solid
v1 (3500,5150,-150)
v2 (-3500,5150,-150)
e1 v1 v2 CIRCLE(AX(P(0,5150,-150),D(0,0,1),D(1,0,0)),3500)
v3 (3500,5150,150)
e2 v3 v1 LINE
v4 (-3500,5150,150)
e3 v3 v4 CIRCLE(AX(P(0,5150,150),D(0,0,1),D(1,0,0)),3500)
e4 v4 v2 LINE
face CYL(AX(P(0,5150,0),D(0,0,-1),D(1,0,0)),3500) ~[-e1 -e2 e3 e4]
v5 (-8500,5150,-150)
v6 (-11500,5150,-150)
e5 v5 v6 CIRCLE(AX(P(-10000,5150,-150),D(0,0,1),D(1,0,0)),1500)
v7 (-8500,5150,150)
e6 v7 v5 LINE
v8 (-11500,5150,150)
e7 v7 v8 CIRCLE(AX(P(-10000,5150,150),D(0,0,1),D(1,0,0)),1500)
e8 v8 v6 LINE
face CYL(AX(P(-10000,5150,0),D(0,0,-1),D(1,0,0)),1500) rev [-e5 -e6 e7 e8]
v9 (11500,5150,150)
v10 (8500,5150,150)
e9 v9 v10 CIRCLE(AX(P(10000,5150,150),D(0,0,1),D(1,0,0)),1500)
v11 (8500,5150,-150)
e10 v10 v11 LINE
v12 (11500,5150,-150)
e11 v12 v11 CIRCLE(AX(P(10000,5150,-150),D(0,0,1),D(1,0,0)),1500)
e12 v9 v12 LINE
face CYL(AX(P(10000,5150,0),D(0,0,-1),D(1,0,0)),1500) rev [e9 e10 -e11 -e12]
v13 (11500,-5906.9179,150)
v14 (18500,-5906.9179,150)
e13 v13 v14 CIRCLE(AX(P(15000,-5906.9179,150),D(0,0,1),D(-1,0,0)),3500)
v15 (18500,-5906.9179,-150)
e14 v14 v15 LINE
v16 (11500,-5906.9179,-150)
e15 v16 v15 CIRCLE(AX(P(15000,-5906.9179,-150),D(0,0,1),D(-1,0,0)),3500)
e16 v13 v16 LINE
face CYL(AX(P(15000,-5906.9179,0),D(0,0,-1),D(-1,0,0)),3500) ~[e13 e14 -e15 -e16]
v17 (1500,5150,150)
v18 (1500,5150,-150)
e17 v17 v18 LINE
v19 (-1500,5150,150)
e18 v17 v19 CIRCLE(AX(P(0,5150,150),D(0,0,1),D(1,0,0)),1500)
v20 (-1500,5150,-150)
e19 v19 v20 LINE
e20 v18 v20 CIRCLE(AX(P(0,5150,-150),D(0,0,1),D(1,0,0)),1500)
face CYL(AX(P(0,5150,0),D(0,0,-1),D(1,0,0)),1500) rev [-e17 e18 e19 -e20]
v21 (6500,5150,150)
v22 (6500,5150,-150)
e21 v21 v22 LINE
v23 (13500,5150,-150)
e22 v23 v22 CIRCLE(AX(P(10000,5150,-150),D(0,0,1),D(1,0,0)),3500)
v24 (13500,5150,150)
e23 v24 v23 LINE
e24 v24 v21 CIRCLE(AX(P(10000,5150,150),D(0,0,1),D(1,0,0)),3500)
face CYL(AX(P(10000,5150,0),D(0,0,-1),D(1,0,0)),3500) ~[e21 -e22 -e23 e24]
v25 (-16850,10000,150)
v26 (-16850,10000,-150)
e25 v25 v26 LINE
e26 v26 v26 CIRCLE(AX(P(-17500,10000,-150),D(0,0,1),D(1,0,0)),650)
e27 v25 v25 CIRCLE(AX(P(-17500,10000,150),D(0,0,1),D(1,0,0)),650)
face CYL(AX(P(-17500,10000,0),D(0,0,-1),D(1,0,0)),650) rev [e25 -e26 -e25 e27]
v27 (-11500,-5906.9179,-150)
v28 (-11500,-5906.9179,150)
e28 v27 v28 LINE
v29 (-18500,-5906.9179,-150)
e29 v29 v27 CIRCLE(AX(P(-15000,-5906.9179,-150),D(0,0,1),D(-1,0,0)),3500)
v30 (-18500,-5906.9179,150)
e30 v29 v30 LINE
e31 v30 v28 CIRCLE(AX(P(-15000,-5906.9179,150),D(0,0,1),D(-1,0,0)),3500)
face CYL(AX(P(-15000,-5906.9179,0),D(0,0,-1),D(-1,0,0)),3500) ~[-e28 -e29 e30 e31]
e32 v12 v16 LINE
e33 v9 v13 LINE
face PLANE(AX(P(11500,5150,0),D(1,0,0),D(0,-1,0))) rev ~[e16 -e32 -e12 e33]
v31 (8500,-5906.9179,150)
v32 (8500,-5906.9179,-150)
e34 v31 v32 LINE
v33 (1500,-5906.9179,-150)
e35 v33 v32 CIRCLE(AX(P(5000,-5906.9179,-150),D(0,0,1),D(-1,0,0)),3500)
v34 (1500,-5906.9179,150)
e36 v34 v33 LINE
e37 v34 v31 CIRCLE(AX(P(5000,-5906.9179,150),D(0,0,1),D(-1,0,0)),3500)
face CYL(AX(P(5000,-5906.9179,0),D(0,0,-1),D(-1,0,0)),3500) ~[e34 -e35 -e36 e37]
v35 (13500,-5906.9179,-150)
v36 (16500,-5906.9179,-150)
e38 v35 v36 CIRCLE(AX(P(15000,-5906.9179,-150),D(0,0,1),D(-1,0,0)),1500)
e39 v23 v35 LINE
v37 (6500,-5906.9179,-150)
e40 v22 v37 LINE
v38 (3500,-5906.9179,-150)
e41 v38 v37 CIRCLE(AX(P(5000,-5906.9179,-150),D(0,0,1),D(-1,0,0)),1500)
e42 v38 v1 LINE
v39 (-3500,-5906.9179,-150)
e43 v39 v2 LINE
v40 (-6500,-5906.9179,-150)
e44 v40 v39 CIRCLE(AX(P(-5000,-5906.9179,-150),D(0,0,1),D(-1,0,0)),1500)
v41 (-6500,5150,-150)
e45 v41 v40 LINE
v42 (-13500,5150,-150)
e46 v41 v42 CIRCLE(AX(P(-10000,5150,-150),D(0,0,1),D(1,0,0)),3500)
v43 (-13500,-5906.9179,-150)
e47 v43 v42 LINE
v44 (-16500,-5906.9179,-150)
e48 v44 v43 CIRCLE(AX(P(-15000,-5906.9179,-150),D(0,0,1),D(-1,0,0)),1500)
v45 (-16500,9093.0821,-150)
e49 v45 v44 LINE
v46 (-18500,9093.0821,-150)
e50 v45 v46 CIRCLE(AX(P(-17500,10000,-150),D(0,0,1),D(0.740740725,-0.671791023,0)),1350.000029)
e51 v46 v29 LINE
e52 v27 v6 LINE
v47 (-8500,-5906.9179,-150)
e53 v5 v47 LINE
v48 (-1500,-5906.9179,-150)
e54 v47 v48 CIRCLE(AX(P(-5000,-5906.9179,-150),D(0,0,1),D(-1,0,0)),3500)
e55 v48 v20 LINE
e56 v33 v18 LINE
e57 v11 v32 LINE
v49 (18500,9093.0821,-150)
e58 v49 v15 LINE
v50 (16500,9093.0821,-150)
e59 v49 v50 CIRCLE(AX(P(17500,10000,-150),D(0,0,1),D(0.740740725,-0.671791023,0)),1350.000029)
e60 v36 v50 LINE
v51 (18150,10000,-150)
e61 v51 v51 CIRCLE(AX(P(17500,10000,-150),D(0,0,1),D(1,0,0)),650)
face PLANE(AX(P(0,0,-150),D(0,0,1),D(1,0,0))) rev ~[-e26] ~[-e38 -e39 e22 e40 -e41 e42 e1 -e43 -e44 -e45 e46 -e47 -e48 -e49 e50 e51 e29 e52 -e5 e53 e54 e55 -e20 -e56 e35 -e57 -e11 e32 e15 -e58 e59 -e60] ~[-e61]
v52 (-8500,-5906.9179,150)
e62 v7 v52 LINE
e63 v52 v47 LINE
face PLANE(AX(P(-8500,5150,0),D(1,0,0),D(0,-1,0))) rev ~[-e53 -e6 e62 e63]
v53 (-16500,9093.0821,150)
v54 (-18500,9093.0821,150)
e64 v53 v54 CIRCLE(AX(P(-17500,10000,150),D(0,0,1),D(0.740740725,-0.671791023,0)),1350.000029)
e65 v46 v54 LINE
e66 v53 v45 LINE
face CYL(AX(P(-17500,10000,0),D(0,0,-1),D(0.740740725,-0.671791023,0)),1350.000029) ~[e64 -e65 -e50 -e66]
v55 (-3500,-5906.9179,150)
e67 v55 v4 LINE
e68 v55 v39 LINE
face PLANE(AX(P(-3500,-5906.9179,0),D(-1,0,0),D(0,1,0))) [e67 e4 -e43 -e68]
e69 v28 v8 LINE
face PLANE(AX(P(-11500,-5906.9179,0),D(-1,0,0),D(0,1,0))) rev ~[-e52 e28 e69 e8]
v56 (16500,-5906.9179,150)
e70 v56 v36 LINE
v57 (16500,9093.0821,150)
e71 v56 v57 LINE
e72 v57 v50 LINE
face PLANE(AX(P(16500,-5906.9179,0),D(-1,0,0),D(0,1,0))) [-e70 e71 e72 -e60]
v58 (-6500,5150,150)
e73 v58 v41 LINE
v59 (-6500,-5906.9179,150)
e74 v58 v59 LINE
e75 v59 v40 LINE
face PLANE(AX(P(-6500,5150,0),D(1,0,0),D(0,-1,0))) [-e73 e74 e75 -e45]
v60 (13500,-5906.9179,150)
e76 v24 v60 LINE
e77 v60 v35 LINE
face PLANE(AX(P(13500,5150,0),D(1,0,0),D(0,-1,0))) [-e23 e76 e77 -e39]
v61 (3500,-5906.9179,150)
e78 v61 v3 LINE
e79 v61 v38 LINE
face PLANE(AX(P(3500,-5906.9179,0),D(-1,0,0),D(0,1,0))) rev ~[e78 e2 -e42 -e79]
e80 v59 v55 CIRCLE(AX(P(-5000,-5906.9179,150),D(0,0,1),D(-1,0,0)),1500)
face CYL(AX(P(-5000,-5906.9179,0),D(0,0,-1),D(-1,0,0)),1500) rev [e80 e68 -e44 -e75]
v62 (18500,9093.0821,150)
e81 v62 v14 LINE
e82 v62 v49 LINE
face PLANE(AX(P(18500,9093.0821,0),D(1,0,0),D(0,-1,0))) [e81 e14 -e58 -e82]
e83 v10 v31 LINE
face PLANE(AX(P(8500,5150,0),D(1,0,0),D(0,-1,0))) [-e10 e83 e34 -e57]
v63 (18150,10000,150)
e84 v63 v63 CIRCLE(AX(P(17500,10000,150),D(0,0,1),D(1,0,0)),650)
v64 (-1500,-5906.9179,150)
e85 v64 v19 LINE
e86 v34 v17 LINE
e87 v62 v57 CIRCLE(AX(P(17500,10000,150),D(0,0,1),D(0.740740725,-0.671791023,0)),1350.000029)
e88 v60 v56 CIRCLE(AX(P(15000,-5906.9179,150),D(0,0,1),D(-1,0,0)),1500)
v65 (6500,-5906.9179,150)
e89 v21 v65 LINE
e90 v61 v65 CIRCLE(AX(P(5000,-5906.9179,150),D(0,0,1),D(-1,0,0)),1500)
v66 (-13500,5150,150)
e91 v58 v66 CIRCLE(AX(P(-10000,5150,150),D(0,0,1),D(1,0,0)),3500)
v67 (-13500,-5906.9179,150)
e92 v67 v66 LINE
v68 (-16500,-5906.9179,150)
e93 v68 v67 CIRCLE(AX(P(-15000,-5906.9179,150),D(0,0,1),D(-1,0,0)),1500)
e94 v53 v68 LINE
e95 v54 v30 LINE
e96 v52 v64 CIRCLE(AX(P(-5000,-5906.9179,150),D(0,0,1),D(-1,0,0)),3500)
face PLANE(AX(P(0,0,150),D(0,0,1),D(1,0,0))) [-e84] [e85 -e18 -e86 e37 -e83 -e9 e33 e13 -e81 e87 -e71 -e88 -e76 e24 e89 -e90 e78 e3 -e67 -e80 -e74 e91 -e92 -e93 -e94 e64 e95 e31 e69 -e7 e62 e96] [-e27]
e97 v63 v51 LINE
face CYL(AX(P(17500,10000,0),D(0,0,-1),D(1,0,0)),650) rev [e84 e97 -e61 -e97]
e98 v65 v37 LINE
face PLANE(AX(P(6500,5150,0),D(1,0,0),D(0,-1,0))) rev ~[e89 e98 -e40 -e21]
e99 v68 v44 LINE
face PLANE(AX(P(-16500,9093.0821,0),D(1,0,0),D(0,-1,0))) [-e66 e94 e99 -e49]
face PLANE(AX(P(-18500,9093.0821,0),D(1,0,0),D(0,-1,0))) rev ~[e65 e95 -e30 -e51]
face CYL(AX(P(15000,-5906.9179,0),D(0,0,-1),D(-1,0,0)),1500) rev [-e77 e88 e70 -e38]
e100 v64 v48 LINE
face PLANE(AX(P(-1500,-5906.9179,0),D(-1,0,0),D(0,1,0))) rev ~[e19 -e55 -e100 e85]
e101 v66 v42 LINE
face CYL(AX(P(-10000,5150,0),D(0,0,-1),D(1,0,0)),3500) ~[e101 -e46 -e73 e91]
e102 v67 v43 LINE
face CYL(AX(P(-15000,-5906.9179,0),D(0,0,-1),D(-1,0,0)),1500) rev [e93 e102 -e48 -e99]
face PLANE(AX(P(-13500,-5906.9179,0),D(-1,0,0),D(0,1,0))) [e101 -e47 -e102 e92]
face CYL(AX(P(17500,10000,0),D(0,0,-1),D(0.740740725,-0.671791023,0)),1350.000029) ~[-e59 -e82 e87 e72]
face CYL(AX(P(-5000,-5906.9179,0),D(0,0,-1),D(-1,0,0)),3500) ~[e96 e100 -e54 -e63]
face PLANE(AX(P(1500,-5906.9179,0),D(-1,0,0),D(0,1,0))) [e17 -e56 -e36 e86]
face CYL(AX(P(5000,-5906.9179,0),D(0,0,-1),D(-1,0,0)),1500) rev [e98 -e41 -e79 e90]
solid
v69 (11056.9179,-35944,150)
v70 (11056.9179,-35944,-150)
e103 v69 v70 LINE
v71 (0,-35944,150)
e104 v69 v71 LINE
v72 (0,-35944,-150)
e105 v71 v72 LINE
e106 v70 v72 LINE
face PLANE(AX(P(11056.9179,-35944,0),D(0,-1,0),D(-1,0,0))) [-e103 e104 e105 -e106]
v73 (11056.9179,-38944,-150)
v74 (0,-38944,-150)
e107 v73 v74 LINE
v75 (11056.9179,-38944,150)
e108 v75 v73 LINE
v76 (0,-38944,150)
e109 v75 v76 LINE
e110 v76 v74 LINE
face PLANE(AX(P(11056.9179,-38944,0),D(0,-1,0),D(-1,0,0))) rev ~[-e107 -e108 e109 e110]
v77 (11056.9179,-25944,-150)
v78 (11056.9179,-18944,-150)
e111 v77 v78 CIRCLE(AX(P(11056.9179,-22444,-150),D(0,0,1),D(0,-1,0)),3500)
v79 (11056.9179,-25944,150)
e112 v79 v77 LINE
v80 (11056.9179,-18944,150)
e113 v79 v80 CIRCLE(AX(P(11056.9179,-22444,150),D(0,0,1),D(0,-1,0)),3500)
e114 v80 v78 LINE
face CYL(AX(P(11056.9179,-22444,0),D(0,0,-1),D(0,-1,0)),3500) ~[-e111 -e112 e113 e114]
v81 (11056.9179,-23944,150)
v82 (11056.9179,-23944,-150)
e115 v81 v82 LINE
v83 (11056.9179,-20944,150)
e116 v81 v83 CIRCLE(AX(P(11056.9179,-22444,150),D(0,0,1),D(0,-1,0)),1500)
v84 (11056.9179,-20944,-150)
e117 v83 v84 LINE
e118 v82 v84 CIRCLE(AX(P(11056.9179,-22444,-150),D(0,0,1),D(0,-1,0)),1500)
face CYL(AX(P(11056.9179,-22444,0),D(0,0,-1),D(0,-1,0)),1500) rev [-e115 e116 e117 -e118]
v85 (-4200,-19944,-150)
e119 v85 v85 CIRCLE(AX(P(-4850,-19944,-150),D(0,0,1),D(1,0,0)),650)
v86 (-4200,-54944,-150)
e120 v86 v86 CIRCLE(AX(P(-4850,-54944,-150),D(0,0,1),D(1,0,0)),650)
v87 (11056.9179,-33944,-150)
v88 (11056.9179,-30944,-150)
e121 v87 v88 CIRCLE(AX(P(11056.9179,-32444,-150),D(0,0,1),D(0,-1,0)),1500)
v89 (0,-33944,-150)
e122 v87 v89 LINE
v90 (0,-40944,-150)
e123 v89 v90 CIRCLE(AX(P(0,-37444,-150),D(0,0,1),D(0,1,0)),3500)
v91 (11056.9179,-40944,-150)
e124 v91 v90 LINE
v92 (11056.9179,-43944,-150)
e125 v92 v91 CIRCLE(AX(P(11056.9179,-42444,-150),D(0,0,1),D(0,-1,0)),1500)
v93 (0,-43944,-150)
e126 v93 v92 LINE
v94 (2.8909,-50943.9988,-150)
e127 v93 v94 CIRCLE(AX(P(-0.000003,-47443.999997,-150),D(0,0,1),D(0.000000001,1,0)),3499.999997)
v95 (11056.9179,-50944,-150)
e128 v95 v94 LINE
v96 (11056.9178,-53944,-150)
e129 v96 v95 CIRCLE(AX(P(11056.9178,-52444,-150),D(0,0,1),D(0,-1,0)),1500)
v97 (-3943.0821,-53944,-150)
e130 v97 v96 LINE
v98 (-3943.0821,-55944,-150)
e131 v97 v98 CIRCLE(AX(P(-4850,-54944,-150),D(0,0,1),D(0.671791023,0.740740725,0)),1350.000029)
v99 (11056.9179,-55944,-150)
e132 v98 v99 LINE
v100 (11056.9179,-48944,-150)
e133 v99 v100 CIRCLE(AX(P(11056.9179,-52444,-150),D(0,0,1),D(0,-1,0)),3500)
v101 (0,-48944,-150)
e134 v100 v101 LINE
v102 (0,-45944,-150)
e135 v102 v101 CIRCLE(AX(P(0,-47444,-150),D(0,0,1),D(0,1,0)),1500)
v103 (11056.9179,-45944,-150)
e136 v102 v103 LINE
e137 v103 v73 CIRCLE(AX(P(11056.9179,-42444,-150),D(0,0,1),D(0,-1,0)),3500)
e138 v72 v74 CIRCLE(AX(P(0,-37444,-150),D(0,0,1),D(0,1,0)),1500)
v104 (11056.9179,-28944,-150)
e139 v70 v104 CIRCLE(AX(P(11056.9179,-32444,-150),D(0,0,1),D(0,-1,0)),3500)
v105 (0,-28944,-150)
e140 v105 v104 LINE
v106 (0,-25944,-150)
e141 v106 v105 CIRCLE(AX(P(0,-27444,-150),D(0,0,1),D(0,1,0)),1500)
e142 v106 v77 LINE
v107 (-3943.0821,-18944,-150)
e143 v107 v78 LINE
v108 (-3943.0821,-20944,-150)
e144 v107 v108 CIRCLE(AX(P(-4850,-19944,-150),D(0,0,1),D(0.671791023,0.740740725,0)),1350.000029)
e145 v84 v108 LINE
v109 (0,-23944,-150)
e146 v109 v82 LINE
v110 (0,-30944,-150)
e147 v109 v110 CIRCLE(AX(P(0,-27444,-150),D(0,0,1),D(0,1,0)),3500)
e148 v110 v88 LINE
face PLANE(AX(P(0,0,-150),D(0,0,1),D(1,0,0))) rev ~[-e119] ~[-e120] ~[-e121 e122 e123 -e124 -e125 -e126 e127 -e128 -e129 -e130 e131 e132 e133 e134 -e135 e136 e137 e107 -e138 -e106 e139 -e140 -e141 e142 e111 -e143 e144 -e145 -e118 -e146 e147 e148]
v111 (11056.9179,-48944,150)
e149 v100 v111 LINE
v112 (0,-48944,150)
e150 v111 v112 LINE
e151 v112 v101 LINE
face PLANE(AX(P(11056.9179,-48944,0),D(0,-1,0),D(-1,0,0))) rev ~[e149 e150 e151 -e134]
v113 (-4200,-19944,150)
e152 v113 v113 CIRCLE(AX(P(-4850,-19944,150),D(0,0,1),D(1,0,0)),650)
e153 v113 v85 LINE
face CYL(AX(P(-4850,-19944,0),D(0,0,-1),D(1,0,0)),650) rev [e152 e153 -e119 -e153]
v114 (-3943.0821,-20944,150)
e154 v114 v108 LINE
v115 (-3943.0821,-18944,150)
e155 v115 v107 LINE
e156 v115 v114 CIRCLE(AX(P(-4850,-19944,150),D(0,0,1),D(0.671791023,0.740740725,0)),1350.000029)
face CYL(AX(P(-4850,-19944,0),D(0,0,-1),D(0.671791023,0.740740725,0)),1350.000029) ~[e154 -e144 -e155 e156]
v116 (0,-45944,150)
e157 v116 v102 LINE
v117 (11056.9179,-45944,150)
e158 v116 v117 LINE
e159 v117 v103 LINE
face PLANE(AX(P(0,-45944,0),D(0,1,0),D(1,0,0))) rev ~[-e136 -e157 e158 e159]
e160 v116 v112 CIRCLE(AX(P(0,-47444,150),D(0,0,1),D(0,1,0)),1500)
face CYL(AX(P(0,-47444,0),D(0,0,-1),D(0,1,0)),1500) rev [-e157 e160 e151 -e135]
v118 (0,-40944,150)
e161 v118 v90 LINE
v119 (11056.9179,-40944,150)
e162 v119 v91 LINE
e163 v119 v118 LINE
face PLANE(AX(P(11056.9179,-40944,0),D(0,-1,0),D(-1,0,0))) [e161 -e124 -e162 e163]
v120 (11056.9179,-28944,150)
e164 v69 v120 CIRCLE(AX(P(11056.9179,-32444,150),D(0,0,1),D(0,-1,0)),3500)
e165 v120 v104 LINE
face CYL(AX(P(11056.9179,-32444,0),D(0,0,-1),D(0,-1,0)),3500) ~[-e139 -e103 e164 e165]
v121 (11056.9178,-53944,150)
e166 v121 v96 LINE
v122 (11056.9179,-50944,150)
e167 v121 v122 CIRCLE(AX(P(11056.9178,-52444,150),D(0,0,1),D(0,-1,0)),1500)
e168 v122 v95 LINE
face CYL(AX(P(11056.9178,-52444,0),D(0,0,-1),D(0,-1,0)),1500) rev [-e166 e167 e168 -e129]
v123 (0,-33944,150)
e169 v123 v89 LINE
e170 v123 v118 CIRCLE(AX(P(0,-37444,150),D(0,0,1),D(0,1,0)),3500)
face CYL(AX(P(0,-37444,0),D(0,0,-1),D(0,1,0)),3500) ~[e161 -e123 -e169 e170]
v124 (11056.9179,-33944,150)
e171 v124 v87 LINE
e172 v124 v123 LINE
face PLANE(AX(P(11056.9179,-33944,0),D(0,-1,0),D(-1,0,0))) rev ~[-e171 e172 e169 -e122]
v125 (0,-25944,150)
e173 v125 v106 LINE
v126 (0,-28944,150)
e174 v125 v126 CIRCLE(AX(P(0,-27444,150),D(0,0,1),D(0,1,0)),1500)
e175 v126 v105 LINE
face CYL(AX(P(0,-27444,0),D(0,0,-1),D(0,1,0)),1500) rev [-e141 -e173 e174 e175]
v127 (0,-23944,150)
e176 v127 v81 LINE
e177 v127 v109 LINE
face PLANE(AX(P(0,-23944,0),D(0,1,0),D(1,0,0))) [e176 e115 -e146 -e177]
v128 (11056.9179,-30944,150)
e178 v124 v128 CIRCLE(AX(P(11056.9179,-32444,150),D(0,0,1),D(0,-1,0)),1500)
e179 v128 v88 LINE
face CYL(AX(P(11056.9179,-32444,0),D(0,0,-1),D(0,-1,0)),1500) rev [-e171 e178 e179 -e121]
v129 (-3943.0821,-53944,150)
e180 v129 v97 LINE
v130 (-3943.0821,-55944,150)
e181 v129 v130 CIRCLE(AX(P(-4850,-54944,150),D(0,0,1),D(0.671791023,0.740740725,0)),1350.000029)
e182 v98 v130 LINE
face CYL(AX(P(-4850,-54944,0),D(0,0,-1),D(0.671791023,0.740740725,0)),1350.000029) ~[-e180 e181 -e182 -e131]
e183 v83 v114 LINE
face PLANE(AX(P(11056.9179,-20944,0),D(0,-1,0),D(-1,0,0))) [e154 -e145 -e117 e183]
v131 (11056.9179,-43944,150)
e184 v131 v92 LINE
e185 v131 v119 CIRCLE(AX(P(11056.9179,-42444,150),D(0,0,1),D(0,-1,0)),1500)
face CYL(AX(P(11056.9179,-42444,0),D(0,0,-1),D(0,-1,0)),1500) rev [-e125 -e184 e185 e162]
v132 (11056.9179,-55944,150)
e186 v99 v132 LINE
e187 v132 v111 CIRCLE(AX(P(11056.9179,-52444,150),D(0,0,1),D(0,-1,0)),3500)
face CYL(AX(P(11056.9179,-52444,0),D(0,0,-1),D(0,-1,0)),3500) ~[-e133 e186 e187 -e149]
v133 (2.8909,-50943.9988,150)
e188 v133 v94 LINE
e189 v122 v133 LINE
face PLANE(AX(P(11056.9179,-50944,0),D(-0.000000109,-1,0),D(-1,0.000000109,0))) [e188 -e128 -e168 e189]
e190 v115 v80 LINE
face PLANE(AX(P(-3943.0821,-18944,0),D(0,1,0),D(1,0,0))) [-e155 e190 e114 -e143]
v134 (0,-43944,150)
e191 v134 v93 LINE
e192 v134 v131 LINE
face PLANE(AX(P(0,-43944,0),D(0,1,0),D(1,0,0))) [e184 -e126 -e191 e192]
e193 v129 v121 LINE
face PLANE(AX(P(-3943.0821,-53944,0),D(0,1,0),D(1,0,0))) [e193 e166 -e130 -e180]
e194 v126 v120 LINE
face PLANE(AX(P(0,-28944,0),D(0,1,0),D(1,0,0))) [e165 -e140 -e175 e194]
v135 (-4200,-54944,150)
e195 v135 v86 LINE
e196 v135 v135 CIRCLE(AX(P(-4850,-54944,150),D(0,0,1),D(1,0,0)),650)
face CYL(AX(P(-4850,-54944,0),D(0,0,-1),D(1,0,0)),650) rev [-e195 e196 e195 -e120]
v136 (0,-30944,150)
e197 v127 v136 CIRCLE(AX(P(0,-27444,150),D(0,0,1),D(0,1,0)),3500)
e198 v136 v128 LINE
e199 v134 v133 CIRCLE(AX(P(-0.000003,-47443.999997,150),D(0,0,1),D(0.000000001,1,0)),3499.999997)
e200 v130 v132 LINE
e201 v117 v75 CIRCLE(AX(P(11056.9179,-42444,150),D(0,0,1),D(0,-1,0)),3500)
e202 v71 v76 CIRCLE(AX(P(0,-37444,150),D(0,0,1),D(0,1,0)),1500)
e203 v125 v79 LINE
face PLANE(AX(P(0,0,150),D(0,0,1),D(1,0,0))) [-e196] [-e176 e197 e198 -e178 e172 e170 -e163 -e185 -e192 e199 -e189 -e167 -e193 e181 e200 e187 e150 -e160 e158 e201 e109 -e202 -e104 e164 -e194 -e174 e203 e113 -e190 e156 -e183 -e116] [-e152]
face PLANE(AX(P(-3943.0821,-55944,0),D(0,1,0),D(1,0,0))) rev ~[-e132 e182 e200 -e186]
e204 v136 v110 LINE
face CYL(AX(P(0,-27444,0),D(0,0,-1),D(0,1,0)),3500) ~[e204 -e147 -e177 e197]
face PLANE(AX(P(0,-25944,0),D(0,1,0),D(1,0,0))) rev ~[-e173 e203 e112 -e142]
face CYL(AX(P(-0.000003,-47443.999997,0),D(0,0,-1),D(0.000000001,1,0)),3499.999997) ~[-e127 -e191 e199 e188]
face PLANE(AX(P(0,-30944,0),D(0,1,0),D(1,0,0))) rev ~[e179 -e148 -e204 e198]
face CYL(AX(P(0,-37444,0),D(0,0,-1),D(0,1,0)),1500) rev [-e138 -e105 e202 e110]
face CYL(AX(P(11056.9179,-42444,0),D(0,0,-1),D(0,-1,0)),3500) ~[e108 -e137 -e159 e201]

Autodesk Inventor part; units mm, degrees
ref_plane "YZ Plane" through (0, 0, 0) normal (1, 0, 0) x (0, 1, 0)
ref_plane "XZ Plane" through (0, 0, 0) normal (0, 1, 0) x (-1, 0, 0)
ref_plane "XY Plane" through (0, 0, 0) normal (0, 0, 1) x (1, 0, 0)
sketch "Esboço1" plane through (0, 0, 0) normal (0, 0, 1) x (1, 0, 0)
  circle A0 centre (-17500, 10000) radius 1350 construction
  line L0 (-18500, 9093.0821) -> (-18500, -5906.9179)
  line L1 (-16500, 9093.0821) -> (-16500, -5906.9179)
  circle A1 centre (-15000, -5906.9179) radius 1500 construction
  arc A2 (-16500, -5906.9179) -> (-13500, -5906.9179) centre (-15000, -5906.9179) ccw
  circle A3 centre (-15000, -5906.9179) radius 3500 construction
  arc A4 (-18500, -5906.9179) -> (-11500, -5906.9179) centre (-15000, -5906.9179) ccw
  line L2 (-13500, -5906.9179) -> (-13500, 5150)
  line L3 (-11500, -5906.9179) -> (-11500, 5150)
  circle A5 centre (-10000, 5150) radius 1500 construction
  arc A6 (-8500, 5150) -> (-11500, 5150) centre (-10000, 5150) ccw
  circle A7 centre (-10000, 5150) radius 3500 construction
  arc A8 (-6500, 5150) -> (-13500, 5150) centre (-10000, 5150) ccw
  line L4 (-17500, 10000) -> (-17500, 8650) construction
  line L5 (-8500, 5150) -> (-8500, -5906.9179)
  line L6 (-6500, 5150) -> (-6500, -5906.9179)
  circle A9 centre (-5000, -5906.9179) radius 1500 construction
  arc A10 (-6500, -5906.9179) -> (-3500, -5906.9179) centre (-5000, -5906.9179) ccw
  circle A11 centre (-5000, -5906.9179) radius 3500 construction
  arc A12 (-8500, -5906.9179) -> (-1500, -5906.9179) centre (-5000, -5906.9179) ccw
  line L7 (-1500, -5906.9179) -> (-1500, 5150)
  line L8 (6500, 5150) -> (6500, -5906.9179)
  line L9 (1500, -5906.9179) -> (1500, 5150)
  line L10 (3500, -5906.9179) -> (3500, 5150)
  line L11 (-3500, -5906.9179) -> (-3500, 5150)
  line L12 (8500, 5150) -> (8500, -5906.9179)
  circle A13 centre (0, 5150) radius 1500 construction
  circle A14 centre (10000, 5150) radius 1500 construction
  circle A15 centre (5000, -5906.9179) radius 1500 construction
  circle A16 centre (17500, 10000) radius 1350 construction
  circle A17 centre (15000, -5906.9179) radius 1500 construction
  circle A18 centre (0, 5150) radius 3500 construction
  arc A19 (1500, 5150) -> (-1500, 5150) centre (0, 5150) ccw
  arc A20 (3500, 5150) -> (-3500, 5150) centre (0, 5150) ccw
  circle A21 centre (5000, -5906.9179) radius 3500 construction
  arc A22 (3500, -5906.9179) -> (6500, -5906.9179) centre (5000, -5906.9179) ccw
  arc A23 (1500, -5906.9179) -> (8500, -5906.9179) centre (5000, -5906.9179) ccw
  circle A24 centre (10000, 5150) radius 3500 construction
  arc A25 (11500, 5150) -> (8500, 5150) centre (10000, 5150) ccw
  arc A26 (13500, 5150) -> (6500, 5150) centre (10000, 5150) ccw
  line L13 (11500, 5150) -> (11500, -5906.9179)
  line L14 (13500, 5150) -> (13500, -5906.9179)
  line L15 (18500, 9093.0821) -> (18500, -5906.9179)
  line L16 (16500, -5906.9179) -> (16500, 9093.0821)
  circle A27 centre (15000, -5906.9179) radius 3500 construction
  arc A28 (13500, -5906.9179) -> (16500, -5906.9179) centre (15000, -5906.9179) ccw
  arc A29 (11500, -5906.9179) -> (18500, -5906.9179) centre (15000, -5906.9179) ccw
  arc A30 (-16500, 9093.0821) -> (-18500, 9093.0821) centre (-17500, 10000) ccw
  arc A31 (18500, 9093.0821) -> (16500, 9093.0821) centre (17500, 10000) ccw
  circle A32 centre (17500, 10000) radius 650
  circle A33 centre (-17500, 10000) radius 650
  circle A34 centre (-4850, -54944) radius 1350 construction
  line L17 (-3943.0821, -55944) -> (11056.9179, -55944)
  line L18 (-3943.0821, -53944) -> (11056.9178, -53944)
  circle A35 centre (11056.9179, -52444) radius 1500 construction
  arc A36 (11056.9178, -53944) -> (11056.9179, -50944) centre (11056.9178, -52444) ccw
  circle A37 centre (11056.9179, -52444) radius 3500 construction
  arc A38 (11056.9179, -55944) -> (11056.9179, -48944) centre (11056.9179, -52444) ccw
  line L19 (11056.9179, -50944) -> (2.8909, -50943.9988)
  line L20 (11056.9179, -48944) -> (0, -48944)
  circle A39 centre (0, -47444) radius 1500 construction
  arc A40 (0, -45944) -> (0, -48944) centre (0, -47444) ccw
  circle A41 centre (0, -47444) radius 3500 construction
  arc A42 (0, -43944) -> (2.8909, -50943.9988) centre (0, -47444) ccw
  line L21 (-4850, -54944) -> (-3500, -54944) construction
  line L22 (0, -45944) -> (11056.9179, -45944)
  line L23 (0, -43944) -> (11056.9179, -43944)
  circle A43 centre (11056.9179, -42444) radius 1500 construction
  arc A44 (11056.9179, -43944) -> (11056.9179, -40944) centre (11056.9179, -42444) ccw
  circle A45 centre (11056.9179, -42444) radius 3500 construction
  arc A46 (11056.9179, -45944) -> (11056.9179, -38944) centre (11056.9179, -42444) ccw
  line L24 (11056.9179, -38944) -> (0, -38944)
  line L25 (0, -30944) -> (11056.9179, -30944)
  line L26 (11056.9179, -35944) -> (0, -35944)
  line L27 (11056.9179, -33944) -> (0, -33944)
  line L28 (11056.9179, -40944) -> (0, -40944)
  line L29 (0, -28944) -> (11056.9179, -28944)
  circle A47 centre (0, -37444) radius 1500 construction
  circle A48 centre (0, -27444) radius 1500 construction
  circle A49 centre (11056.9179, -32444) radius 1500 construction
  circle A50 centre (-4850, -19944) radius 1350 construction
  circle A51 centre (11056.9179, -22444) radius 1500 construction
  circle A52 centre (0, -37444) radius 3500 construction
  arc A53 (0, -35944) -> (0, -38944) centre (0, -37444) ccw
  arc A54 (0, -33944) -> (0, -40944) centre (0, -37444) ccw
  circle A55 centre (11056.9179, -32444) radius 3500 construction
  arc A56 (11056.9179, -33944) -> (11056.9179, -30944) centre (11056.9179, -32444) ccw
  arc A57 (11056.9179, -35944) -> (11056.9179, -28944) centre (11056.9179, -32444) ccw
  circle A58 centre (0, -27444) radius 3500 construction
  arc A59 (0, -25944) -> (0, -28944) centre (0, -27444) ccw
  arc A60 (0, -23944) -> (0, -30944) centre (0, -27444) ccw
  line L30 (0, -25944) -> (11056.9179, -25944)
  line L31 (0, -23944) -> (11056.9179, -23944)
  line L32 (-3943.0821, -18944) -> (11056.9179, -18944)
  line L33 (11056.9179, -20944) -> (-3943.0821, -20944)
  circle A61 centre (11056.9179, -22444) radius 3500 construction
  arc A62 (11056.9179, -23944) -> (11056.9179, -20944) centre (11056.9179, -22444) ccw
  arc A63 (11056.9179, -25944) -> (11056.9179, -18944) centre (11056.9179, -22444) ccw
  arc A64 (-3943.0821, -53944) -> (-3943.0821, -55944) centre (-4850, -54944) ccw
  arc A65 (-3943.0821, -18944) -> (-3943.0821, -20944) centre (-4850, -19944) ccw
  circle A66 centre (-4850, -19944) radius 650
  circle A67 centre (-4850, -54944) radius 650
  point P0 (0, 0)
  point P1 (-15000, -7406.9179)
  point P2 (-10000, 8650)
  point P3 (0, 6650)
  point P4 (0, 8650)
  point P5 (15000, -7406.9179)
  point P6 (3500, -5906.9179)
  point P7 (12556.9178, -52444)
  point P8 (-3499.9997, -47445.4454)
  point P9 (-1500, -37444)
  point P10 (-3500, -37444)
  point P11 (12556.9179, -22444)
  dimension "d7" = 3000
  dimension "d0" = 10000
  dimension "d1" = 17500
  dimension "d2" = 2700
  dimension "d5" = 15000
  dimension "d8" = 2000
  dimension "d12" = 1300
extrude "Extrusão1" add sketch "Esboço1" along normal mid plane 300
properties part number "Sensor_0002_001"
